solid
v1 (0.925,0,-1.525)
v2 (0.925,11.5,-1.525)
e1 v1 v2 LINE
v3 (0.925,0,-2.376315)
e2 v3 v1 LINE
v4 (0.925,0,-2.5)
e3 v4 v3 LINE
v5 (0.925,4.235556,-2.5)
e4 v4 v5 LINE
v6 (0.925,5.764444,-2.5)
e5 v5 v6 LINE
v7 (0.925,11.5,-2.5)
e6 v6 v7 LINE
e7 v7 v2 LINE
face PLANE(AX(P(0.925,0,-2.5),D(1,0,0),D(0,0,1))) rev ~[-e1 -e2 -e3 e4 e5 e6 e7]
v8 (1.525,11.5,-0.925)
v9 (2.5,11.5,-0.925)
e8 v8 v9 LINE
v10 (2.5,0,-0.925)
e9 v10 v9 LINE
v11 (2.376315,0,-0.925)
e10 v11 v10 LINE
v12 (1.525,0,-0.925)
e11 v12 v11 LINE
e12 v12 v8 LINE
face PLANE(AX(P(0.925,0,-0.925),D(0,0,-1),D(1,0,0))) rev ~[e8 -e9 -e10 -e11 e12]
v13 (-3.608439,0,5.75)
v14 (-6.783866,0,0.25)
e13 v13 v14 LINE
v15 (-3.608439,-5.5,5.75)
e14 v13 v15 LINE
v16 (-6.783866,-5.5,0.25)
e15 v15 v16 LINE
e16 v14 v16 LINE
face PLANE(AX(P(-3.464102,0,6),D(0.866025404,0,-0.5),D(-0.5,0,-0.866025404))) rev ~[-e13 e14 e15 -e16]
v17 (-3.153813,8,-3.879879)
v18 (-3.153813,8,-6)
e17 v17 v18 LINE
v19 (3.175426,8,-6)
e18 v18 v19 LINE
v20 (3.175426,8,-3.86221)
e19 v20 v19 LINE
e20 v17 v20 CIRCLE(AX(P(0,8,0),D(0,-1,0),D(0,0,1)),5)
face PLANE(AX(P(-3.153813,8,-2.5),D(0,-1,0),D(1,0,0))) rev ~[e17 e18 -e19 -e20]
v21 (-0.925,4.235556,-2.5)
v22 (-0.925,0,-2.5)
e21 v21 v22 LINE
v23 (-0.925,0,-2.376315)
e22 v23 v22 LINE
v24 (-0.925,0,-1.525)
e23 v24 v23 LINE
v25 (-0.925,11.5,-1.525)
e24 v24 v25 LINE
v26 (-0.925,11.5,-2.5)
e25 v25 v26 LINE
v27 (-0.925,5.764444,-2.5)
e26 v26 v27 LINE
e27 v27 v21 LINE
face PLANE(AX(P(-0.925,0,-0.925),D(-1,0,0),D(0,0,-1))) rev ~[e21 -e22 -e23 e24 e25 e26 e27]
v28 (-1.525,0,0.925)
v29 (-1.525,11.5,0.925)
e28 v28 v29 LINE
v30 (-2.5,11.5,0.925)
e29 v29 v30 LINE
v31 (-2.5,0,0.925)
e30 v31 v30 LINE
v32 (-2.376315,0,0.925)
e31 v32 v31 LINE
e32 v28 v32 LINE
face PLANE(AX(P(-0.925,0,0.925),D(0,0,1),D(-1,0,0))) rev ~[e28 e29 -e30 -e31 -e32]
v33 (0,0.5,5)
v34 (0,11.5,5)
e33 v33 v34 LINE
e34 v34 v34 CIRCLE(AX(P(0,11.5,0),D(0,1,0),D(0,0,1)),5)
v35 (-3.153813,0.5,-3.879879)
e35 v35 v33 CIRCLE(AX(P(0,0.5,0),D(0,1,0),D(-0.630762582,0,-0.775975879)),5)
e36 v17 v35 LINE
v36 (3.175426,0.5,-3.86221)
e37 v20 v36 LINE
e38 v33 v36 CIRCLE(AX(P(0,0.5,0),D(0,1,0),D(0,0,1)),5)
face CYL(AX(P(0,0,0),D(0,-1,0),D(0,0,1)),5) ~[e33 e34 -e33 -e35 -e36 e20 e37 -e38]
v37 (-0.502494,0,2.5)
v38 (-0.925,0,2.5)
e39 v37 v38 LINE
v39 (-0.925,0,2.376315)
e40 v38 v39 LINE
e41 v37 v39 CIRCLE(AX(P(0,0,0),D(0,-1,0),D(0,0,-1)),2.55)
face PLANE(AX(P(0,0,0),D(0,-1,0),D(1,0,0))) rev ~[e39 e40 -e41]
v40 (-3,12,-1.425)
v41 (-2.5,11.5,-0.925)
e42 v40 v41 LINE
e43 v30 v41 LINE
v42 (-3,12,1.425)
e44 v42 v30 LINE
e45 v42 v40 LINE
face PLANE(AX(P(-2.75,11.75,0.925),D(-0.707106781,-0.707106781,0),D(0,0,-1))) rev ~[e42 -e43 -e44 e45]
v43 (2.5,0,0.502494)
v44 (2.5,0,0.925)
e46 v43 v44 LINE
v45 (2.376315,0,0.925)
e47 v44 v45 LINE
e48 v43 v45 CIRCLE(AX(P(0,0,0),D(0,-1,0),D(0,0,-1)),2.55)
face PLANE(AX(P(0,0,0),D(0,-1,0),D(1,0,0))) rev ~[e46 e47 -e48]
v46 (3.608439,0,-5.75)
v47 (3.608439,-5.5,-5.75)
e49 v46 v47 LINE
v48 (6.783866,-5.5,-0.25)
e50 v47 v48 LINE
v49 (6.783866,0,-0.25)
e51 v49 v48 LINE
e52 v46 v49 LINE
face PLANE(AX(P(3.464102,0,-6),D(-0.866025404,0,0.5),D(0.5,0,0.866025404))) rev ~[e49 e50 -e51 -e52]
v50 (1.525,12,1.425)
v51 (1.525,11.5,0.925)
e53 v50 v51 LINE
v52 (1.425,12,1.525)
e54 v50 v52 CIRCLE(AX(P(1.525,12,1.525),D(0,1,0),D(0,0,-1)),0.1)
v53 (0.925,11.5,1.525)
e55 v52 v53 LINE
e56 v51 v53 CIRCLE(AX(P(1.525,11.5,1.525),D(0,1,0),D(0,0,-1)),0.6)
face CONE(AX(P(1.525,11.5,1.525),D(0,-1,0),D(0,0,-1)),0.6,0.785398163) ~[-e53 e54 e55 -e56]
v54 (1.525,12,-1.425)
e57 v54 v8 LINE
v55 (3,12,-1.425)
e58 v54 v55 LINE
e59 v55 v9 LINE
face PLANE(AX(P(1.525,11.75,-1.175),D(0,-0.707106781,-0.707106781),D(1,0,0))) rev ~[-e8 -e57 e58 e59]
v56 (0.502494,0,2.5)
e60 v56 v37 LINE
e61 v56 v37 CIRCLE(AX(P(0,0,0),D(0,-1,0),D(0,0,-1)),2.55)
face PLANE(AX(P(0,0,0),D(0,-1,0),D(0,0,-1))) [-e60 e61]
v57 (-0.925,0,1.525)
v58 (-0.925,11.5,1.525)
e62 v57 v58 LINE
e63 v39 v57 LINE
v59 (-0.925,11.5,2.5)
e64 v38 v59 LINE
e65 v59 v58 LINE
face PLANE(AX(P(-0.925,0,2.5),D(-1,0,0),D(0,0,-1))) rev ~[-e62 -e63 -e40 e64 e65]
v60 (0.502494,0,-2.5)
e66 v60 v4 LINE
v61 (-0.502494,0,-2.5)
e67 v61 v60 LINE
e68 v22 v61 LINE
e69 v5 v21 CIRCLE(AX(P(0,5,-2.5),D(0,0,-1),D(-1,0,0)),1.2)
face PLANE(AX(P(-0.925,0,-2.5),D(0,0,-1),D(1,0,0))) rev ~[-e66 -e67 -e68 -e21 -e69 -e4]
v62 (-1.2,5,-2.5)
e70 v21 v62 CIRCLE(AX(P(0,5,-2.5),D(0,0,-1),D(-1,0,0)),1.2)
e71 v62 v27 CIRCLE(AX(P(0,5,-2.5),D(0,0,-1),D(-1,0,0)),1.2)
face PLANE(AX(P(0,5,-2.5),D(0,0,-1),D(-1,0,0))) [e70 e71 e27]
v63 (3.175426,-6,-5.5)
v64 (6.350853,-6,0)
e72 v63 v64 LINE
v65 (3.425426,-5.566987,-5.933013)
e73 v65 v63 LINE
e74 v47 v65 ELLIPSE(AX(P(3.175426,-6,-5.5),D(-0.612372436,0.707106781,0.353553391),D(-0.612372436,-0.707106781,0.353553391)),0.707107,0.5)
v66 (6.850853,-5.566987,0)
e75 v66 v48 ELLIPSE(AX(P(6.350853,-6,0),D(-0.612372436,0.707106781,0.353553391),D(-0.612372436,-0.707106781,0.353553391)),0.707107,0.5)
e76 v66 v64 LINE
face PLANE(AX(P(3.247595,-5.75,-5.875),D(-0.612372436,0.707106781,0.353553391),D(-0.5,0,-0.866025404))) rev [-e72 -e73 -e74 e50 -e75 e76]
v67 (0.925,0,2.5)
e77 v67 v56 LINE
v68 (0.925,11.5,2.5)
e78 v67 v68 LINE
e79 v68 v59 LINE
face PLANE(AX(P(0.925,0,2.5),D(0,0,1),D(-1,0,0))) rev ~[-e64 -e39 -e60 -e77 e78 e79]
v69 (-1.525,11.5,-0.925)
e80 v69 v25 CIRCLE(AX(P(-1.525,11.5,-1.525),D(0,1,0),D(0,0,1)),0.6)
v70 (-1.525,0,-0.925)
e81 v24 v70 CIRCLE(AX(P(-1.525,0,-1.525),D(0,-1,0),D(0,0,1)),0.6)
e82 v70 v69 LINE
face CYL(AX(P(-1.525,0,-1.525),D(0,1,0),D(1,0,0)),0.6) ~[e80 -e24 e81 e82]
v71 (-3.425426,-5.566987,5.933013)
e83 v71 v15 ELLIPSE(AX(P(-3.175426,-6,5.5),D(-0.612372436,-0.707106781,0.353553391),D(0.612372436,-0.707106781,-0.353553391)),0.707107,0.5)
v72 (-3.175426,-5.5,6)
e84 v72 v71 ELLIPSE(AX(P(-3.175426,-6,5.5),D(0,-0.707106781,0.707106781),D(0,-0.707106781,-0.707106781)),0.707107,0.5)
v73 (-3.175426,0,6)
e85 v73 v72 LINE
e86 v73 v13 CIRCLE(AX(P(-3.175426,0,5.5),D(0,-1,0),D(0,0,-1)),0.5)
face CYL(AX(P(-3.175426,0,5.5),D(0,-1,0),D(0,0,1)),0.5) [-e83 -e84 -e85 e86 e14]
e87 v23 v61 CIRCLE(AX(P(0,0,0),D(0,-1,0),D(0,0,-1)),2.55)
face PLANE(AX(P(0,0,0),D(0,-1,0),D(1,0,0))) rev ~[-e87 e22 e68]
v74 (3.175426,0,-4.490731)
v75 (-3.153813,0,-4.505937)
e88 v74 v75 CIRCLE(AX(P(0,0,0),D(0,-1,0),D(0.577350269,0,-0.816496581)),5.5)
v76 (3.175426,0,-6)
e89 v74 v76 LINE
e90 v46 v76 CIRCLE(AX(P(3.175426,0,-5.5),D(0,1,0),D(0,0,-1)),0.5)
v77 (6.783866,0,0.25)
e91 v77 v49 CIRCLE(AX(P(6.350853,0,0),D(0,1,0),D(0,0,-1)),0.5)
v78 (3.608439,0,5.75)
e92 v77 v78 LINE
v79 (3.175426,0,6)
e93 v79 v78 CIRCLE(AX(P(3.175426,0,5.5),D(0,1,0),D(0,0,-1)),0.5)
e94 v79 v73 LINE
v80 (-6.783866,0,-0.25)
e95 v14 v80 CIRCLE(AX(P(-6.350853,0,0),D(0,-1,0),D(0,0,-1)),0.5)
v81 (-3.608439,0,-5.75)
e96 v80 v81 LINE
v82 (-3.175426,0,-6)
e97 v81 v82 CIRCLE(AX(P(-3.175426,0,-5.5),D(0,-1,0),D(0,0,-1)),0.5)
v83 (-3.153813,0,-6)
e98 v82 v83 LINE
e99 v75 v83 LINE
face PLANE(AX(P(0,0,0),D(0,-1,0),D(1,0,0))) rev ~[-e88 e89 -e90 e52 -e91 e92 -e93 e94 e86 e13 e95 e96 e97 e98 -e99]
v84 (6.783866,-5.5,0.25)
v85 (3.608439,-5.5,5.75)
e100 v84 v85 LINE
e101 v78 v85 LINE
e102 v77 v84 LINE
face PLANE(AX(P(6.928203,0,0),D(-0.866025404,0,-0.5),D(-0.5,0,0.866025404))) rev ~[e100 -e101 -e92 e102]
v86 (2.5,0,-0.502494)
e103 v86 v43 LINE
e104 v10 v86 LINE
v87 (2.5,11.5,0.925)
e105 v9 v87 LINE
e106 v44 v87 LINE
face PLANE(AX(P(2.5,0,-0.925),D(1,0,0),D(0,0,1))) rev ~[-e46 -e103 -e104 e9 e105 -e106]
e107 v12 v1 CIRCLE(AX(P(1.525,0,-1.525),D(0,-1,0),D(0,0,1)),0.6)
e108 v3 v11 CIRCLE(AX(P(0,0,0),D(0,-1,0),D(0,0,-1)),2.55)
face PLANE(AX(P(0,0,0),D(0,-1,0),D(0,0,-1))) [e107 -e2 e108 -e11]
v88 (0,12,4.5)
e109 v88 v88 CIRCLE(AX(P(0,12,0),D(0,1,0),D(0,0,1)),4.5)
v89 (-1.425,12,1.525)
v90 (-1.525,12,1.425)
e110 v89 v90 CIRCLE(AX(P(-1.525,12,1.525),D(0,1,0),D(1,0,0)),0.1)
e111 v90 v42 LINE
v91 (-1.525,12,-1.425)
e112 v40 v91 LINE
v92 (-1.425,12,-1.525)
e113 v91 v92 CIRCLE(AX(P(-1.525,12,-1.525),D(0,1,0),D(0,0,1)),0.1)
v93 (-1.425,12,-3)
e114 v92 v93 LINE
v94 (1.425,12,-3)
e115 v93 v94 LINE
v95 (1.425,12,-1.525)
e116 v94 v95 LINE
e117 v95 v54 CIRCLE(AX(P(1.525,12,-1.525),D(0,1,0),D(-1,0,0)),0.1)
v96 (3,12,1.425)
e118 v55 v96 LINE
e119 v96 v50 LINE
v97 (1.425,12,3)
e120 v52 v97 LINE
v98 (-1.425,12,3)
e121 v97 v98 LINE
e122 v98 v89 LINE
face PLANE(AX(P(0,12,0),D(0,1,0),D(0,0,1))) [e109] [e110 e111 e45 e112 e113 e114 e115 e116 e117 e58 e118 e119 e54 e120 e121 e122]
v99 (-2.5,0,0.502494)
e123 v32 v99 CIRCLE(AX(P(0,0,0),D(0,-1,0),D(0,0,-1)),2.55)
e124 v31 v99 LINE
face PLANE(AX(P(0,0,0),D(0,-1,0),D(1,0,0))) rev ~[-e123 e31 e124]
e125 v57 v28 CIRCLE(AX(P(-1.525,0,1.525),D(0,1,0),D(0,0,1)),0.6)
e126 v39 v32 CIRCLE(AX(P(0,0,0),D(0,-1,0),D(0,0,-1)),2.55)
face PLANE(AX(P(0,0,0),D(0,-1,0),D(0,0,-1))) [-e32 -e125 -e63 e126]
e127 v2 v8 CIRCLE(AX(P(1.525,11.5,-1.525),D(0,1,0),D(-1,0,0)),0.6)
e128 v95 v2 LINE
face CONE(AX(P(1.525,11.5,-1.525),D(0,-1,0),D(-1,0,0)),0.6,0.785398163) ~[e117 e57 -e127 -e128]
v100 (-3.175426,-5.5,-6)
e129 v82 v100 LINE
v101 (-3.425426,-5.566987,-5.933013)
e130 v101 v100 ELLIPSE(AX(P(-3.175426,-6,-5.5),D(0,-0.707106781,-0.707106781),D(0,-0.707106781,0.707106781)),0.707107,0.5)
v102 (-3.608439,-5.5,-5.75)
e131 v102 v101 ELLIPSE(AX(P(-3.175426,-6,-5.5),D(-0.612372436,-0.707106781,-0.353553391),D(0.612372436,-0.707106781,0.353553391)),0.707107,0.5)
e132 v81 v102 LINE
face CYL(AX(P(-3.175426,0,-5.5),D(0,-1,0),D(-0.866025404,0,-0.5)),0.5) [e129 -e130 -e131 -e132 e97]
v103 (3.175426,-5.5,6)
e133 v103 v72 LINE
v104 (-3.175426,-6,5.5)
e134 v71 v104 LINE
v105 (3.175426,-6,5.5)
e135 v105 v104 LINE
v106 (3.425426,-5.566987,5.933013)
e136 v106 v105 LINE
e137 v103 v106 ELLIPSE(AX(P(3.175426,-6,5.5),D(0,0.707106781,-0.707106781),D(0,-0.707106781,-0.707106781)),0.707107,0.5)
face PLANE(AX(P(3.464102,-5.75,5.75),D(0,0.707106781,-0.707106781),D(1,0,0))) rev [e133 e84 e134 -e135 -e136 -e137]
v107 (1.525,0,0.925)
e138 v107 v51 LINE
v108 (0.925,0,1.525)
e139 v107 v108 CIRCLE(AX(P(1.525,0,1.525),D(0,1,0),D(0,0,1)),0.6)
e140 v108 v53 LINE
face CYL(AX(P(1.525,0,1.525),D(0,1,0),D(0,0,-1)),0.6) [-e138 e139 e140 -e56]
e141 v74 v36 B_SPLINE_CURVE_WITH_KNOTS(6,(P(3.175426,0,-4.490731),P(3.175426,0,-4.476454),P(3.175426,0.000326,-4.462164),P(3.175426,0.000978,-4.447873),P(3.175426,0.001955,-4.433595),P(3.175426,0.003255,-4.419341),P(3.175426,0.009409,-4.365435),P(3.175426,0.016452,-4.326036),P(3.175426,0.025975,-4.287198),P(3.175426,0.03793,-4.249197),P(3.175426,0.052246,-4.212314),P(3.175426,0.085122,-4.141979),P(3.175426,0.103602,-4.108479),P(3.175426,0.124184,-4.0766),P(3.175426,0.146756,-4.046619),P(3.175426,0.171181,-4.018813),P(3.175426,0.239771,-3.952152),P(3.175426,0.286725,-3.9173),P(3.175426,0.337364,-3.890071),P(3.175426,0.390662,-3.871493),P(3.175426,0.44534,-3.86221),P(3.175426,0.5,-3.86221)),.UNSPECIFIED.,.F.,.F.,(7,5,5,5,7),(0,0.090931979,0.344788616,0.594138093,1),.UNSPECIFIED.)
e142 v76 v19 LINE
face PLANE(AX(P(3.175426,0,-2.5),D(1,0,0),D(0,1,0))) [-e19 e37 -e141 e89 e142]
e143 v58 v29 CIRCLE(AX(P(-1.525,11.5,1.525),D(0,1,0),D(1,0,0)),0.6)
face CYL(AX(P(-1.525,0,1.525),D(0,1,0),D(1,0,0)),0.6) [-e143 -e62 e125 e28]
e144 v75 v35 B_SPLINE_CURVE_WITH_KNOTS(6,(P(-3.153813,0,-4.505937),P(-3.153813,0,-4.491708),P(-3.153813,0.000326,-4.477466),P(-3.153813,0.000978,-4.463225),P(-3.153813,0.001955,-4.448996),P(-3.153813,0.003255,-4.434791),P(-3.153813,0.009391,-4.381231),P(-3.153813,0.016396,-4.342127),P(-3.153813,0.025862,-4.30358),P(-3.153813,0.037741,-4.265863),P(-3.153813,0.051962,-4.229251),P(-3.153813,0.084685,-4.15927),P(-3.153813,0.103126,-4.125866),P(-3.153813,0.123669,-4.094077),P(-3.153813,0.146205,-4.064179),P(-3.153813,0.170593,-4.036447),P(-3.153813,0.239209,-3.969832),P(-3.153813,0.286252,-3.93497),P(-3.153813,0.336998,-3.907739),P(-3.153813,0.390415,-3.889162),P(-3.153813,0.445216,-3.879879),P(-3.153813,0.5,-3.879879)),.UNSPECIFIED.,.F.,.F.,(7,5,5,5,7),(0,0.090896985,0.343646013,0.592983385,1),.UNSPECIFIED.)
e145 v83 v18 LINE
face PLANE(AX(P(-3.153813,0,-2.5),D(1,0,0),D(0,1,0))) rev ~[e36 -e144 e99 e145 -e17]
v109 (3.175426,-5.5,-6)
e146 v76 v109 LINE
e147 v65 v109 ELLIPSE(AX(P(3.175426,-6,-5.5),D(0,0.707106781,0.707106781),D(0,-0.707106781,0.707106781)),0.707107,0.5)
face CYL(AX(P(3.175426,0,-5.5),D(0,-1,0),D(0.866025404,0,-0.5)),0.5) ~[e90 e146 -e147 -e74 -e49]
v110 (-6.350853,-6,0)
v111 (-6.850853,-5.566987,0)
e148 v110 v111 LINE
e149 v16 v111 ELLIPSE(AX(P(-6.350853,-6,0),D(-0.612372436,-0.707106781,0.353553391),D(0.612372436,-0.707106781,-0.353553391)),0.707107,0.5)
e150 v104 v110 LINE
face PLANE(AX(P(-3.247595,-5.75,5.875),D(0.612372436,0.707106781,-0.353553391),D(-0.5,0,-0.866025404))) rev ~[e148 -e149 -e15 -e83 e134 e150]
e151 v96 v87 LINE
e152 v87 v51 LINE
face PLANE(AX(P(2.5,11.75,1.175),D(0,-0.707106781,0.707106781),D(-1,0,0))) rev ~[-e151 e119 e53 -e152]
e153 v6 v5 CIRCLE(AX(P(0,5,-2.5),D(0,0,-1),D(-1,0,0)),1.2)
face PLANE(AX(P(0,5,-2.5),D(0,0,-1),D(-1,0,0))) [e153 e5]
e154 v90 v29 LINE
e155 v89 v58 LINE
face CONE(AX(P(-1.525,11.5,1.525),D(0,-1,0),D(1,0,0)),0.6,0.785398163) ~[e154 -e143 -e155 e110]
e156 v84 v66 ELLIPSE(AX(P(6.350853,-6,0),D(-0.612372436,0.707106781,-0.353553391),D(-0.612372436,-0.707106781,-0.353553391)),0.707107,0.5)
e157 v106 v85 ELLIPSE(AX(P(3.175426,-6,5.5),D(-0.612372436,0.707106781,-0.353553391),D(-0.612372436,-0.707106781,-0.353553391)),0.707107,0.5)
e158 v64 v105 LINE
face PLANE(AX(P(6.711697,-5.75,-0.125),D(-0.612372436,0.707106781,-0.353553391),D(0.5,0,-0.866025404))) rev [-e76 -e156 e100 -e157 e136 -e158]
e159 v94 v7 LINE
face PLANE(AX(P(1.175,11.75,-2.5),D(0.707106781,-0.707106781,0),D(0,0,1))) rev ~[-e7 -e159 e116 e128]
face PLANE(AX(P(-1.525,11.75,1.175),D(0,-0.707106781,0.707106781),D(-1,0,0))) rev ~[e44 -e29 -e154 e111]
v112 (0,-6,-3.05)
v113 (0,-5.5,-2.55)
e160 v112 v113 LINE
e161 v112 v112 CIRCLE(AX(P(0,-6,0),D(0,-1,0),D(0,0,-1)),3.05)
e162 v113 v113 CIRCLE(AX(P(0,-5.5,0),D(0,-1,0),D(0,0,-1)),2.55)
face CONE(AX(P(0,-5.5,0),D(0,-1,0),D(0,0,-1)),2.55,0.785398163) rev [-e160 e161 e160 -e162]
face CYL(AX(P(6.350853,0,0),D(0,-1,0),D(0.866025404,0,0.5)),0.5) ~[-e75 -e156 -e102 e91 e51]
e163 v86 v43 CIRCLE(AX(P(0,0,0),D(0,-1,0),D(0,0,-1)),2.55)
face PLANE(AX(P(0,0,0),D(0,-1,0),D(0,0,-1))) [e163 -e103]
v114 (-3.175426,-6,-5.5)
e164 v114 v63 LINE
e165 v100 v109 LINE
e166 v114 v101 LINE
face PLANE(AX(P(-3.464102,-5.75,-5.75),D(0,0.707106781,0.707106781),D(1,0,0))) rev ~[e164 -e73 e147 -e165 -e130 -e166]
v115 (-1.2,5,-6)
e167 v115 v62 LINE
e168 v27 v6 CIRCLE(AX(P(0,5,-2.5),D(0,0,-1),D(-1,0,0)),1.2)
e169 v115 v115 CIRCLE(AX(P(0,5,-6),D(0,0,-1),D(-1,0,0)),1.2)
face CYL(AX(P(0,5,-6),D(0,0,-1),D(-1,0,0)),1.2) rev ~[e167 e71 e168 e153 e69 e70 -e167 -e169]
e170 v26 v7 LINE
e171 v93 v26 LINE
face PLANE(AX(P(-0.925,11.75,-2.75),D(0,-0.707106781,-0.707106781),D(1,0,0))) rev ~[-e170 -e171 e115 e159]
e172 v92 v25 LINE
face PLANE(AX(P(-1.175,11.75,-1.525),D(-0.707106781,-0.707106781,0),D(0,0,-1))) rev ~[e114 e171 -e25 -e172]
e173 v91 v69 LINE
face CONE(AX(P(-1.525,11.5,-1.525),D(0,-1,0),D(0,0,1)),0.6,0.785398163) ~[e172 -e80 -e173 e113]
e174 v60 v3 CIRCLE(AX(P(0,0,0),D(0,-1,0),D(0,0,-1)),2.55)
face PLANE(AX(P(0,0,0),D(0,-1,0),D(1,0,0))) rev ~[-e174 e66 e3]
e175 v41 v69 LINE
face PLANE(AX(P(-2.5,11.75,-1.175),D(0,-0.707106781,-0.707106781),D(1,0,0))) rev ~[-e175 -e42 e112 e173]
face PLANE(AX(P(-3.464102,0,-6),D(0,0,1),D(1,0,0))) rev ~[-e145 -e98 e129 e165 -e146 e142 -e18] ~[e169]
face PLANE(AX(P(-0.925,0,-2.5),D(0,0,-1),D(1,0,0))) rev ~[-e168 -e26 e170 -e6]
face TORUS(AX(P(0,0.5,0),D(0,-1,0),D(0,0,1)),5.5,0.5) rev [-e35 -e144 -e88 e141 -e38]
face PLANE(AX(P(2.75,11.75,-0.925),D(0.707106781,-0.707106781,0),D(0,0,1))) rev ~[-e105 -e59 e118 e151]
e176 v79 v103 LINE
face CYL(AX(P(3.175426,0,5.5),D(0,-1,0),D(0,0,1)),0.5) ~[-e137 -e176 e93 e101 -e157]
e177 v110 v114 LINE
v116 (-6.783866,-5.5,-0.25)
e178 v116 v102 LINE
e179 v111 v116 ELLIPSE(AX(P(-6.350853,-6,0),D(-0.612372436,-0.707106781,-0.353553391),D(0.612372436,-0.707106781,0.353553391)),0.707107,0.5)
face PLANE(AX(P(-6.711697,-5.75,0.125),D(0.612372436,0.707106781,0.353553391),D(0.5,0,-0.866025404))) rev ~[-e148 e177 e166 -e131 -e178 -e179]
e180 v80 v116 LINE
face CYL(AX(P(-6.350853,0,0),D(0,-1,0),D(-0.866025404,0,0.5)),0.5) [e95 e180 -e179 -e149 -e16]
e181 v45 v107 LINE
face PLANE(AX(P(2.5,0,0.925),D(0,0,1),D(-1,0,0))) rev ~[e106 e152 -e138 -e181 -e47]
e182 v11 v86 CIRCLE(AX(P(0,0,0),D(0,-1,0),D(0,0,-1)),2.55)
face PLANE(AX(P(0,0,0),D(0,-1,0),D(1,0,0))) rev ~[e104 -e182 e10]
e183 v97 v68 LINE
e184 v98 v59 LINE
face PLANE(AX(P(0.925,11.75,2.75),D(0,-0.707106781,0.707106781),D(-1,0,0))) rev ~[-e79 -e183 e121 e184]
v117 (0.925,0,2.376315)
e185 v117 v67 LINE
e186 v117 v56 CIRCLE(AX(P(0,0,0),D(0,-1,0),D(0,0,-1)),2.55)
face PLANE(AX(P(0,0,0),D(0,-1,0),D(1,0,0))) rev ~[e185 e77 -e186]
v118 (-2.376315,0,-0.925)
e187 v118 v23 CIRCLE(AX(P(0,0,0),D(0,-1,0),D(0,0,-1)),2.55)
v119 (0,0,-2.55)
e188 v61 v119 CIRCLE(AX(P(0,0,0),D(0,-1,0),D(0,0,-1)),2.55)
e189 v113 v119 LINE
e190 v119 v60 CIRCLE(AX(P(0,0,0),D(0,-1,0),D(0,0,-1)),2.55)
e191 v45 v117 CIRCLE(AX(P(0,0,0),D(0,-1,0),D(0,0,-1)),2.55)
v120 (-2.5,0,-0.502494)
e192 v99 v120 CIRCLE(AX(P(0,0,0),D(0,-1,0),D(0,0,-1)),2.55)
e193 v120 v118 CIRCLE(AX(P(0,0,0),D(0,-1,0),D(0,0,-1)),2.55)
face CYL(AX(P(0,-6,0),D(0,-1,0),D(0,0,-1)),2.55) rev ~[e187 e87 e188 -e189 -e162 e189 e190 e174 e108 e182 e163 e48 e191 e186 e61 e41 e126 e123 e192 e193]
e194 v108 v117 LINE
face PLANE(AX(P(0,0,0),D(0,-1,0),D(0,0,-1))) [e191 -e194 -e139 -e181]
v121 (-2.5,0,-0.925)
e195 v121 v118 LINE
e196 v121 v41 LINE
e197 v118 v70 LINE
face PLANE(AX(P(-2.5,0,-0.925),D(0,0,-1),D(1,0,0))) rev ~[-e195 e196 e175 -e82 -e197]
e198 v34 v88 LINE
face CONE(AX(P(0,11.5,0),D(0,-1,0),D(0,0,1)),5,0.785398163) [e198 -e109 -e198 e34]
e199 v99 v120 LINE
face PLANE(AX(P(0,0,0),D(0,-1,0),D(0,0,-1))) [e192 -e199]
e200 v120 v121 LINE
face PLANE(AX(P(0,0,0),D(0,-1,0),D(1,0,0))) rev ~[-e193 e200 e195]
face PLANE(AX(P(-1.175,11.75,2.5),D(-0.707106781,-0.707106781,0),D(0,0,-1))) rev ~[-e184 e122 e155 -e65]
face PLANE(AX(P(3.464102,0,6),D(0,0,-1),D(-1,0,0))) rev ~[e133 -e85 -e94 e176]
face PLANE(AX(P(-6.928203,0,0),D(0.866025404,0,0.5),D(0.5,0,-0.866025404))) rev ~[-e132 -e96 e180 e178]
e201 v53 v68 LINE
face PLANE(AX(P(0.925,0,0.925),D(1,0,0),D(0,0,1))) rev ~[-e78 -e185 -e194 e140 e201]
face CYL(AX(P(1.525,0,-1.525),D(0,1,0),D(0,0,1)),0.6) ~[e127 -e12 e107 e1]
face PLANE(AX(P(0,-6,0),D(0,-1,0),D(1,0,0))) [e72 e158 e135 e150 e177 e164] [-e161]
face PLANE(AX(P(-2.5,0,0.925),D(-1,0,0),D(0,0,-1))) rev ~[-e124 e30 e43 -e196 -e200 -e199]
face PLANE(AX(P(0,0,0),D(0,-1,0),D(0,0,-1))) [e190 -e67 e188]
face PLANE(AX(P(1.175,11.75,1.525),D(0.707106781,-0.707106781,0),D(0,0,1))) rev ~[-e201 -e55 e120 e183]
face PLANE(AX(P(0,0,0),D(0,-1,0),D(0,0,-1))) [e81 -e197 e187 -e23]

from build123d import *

# Parameters (mm, degrees)
SKETCH_1_R          = 5
EXTRUDE_4_DEPTH     = 12
FILLET_1_R          = 0.6
FILLET_2_R          = 0.6
EXTRUDE_5_DEPTH     = 6
SKETCH_3_R          = 2.55
CUT_EXTRUDE_1_DEPTH = 6
CHAMFER_1_SIZE      = 0.5
CHAMFER_4_SIZE      = 0.5
FILLET_4_R          = 0.5
FILLET_5_R          = 0.5
SKETCH_4_W          = 6.329239392
SKETCH_4_H          = 8
EXTRUDE_6_DEPTH     = 3.5
SKETCH_5_R          = 1.2
CUT_EXTRUDE_2_DEPTH = 3.5
FILLET_7_R          = 0.5


with BuildPart() as part:
    # ｽｹｯﾁ1 → ﾎﾞｽ - 押し出し4 (new body)
    with BuildSketch(Plane(origin=(0, 0, 0), x_dir=(1, 0, 0), z_dir=(0, 1, 0))):
        with Locations(Location((0, 0, 0), (0, 0, 270))):
            Circle(SKETCH_1_R)
        Polygon((-2.5, -0.925), (-2.5, 0.925), (-0.925, 0.925), (-0.925, 2.5), (0.925, 2.5), (0.925, 0.925), (2.5, 0.925), (2.5, -0.925), (0.925, -0.925), (0.925, -2.5), (-0.925, -2.5), (-0.925, -0.925), align=None, mode=Mode.SUBTRACT)
    extrude(amount=EXTRUDE_4_DEPTH)

    # ﾌｨﾚｯﾄ1
    fillet_1_edges = [part.edges().sort_by_distance(p)[0] for p in [
        (0.925, 6, -0.925),
    ]]
    fillet(fillet_1_edges, radius=FILLET_1_R)

    # ﾌｨﾚｯﾄ2
    fillet_2_edges = [part.edges().sort_by_distance(p)[0] for p in [
        (-0.925, 6, -0.925),
        (-0.925, 6, 0.925),
        (0.925, 6, 0.925),
    ]]
    fillet(fillet_2_edges, radius=FILLET_2_R)

    # ｽｹｯﾁ2 → ﾎﾞｽ - 押し出し5 (add)
    with BuildSketch(Plane.XZ):
        Polygon((6.92820323, 0), (3.464101615, 6), (-3.464101615, 6), (-6.92820323, 0), (-3.464101615, -6), (3.464101615, -6), align=None)
    extrude(amount=EXTRUDE_5_DEPTH)

    # ｽｹｯﾁ3 → ｶｯﾄ - 押し出し1 (cut)
    with BuildSketch(Plane.XZ.offset(6)):
        with Locations(Location((0, 0, 0), (0, 0, 270))):
            Circle(SKETCH_3_R)
    extrude(amount=-CUT_EXTRUDE_1_DEPTH, mode=Mode.SUBTRACT)

    # 面取り1
    chamfer_1_edges = [part.edges().sort_by_distance(p)[0] for p in [
        (0, -6, 2.55),
        (5.196152423, -6, -3),
        (5.196152423, -6, 3),
        (0, -6, 6),
        (-5.196152423, -6, 3),
        (-5.196152423, -6, -3),
        (0, -6, -6),
    ]]
    chamfer(chamfer_1_edges, length=CHAMFER_1_SIZE)

    # 面取り4
    chamfer_4_edges = [part.edges().sort_by_distance(p)[0] for p in [
        (2.5, 12, 0),
        (-2.0125, 12, -0.925),
        (-2.0125, 12, 0.925),
        (-2.5, 12, 0),
        (0, 12, -5),
        (2.0125, 12, -0.925),
        (1.100735931, 12, -1.100735931),
        (-0.925, 12, 2.0125),
        (2.0125, 12, 0.925),
        (0.925, 12, 2.0125),
        (1.100735931, 12, 1.100735931),
        (-1.100735931, 12, -1.100735931),
        (-1.100735931, 12, 1.100735931),
        (0.925, 12, -2.0125),
        (0, 12, -2.5),
        (0, 12, 2.5),
        (-0.925, 12, -2.0125),
    ]]
    chamfer(chamfer_4_edges, length=CHAMFER_4_SIZE)

    # ﾌｨﾚｯﾄ4
    fillet_4_edges = [part.edges().sort_by_distance(p)[0] for p in [
        (-3.464101615, -2.75, 6),
    ]]
    fillet(fillet_4_edges, radius=FILLET_4_R)

    # ﾌｨﾚｯﾄ5
    fillet_5_edges = [part.edges().sort_by_distance(p)[0] for p in [
        (3.464101615, -2.75, -6),
        (-3.464101615, -2.75, -6),
        (-6.92820323, -2.75, 0),
        (3.464101615, -2.75, 6),
        (6.92820323, -2.75, 0),
    ]]
    fillet(fillet_5_edges, radius=FILLET_5_R)

    # ｽｹｯﾁ4 → ﾎﾞｽ - 押し出し6 (add)
    with BuildSketch(Plane.XY.offset(-2.5)):
        with Locations((0.010806785, 4)):
            Rectangle(SKETCH_4_W, SKETCH_4_H)
    extrude(amount=-EXTRUDE_6_DEPTH)

    # ｽｹｯﾁ5 → ｶｯﾄ - 押し出し2 (cut)
    with BuildSketch(Plane(origin=(0, 0, -6), x_dir=(-1, 0, 0), z_dir=(0, 0, -1))):
        with Locations((0, 5)):
            Circle(SKETCH_5_R)
    extrude(amount=-CUT_EXTRUDE_2_DEPTH, mode=Mode.SUBTRACT)

    # ﾌｨﾚｯﾄ7
    fillet_7_edges = [part.edges().sort_by_distance(p)[0] for p in [
        (-4.7116556, 0, 1.673410144),
    ]]
    fillet(fillet_7_edges, radius=FILLET_7_R)


solid = part.part
